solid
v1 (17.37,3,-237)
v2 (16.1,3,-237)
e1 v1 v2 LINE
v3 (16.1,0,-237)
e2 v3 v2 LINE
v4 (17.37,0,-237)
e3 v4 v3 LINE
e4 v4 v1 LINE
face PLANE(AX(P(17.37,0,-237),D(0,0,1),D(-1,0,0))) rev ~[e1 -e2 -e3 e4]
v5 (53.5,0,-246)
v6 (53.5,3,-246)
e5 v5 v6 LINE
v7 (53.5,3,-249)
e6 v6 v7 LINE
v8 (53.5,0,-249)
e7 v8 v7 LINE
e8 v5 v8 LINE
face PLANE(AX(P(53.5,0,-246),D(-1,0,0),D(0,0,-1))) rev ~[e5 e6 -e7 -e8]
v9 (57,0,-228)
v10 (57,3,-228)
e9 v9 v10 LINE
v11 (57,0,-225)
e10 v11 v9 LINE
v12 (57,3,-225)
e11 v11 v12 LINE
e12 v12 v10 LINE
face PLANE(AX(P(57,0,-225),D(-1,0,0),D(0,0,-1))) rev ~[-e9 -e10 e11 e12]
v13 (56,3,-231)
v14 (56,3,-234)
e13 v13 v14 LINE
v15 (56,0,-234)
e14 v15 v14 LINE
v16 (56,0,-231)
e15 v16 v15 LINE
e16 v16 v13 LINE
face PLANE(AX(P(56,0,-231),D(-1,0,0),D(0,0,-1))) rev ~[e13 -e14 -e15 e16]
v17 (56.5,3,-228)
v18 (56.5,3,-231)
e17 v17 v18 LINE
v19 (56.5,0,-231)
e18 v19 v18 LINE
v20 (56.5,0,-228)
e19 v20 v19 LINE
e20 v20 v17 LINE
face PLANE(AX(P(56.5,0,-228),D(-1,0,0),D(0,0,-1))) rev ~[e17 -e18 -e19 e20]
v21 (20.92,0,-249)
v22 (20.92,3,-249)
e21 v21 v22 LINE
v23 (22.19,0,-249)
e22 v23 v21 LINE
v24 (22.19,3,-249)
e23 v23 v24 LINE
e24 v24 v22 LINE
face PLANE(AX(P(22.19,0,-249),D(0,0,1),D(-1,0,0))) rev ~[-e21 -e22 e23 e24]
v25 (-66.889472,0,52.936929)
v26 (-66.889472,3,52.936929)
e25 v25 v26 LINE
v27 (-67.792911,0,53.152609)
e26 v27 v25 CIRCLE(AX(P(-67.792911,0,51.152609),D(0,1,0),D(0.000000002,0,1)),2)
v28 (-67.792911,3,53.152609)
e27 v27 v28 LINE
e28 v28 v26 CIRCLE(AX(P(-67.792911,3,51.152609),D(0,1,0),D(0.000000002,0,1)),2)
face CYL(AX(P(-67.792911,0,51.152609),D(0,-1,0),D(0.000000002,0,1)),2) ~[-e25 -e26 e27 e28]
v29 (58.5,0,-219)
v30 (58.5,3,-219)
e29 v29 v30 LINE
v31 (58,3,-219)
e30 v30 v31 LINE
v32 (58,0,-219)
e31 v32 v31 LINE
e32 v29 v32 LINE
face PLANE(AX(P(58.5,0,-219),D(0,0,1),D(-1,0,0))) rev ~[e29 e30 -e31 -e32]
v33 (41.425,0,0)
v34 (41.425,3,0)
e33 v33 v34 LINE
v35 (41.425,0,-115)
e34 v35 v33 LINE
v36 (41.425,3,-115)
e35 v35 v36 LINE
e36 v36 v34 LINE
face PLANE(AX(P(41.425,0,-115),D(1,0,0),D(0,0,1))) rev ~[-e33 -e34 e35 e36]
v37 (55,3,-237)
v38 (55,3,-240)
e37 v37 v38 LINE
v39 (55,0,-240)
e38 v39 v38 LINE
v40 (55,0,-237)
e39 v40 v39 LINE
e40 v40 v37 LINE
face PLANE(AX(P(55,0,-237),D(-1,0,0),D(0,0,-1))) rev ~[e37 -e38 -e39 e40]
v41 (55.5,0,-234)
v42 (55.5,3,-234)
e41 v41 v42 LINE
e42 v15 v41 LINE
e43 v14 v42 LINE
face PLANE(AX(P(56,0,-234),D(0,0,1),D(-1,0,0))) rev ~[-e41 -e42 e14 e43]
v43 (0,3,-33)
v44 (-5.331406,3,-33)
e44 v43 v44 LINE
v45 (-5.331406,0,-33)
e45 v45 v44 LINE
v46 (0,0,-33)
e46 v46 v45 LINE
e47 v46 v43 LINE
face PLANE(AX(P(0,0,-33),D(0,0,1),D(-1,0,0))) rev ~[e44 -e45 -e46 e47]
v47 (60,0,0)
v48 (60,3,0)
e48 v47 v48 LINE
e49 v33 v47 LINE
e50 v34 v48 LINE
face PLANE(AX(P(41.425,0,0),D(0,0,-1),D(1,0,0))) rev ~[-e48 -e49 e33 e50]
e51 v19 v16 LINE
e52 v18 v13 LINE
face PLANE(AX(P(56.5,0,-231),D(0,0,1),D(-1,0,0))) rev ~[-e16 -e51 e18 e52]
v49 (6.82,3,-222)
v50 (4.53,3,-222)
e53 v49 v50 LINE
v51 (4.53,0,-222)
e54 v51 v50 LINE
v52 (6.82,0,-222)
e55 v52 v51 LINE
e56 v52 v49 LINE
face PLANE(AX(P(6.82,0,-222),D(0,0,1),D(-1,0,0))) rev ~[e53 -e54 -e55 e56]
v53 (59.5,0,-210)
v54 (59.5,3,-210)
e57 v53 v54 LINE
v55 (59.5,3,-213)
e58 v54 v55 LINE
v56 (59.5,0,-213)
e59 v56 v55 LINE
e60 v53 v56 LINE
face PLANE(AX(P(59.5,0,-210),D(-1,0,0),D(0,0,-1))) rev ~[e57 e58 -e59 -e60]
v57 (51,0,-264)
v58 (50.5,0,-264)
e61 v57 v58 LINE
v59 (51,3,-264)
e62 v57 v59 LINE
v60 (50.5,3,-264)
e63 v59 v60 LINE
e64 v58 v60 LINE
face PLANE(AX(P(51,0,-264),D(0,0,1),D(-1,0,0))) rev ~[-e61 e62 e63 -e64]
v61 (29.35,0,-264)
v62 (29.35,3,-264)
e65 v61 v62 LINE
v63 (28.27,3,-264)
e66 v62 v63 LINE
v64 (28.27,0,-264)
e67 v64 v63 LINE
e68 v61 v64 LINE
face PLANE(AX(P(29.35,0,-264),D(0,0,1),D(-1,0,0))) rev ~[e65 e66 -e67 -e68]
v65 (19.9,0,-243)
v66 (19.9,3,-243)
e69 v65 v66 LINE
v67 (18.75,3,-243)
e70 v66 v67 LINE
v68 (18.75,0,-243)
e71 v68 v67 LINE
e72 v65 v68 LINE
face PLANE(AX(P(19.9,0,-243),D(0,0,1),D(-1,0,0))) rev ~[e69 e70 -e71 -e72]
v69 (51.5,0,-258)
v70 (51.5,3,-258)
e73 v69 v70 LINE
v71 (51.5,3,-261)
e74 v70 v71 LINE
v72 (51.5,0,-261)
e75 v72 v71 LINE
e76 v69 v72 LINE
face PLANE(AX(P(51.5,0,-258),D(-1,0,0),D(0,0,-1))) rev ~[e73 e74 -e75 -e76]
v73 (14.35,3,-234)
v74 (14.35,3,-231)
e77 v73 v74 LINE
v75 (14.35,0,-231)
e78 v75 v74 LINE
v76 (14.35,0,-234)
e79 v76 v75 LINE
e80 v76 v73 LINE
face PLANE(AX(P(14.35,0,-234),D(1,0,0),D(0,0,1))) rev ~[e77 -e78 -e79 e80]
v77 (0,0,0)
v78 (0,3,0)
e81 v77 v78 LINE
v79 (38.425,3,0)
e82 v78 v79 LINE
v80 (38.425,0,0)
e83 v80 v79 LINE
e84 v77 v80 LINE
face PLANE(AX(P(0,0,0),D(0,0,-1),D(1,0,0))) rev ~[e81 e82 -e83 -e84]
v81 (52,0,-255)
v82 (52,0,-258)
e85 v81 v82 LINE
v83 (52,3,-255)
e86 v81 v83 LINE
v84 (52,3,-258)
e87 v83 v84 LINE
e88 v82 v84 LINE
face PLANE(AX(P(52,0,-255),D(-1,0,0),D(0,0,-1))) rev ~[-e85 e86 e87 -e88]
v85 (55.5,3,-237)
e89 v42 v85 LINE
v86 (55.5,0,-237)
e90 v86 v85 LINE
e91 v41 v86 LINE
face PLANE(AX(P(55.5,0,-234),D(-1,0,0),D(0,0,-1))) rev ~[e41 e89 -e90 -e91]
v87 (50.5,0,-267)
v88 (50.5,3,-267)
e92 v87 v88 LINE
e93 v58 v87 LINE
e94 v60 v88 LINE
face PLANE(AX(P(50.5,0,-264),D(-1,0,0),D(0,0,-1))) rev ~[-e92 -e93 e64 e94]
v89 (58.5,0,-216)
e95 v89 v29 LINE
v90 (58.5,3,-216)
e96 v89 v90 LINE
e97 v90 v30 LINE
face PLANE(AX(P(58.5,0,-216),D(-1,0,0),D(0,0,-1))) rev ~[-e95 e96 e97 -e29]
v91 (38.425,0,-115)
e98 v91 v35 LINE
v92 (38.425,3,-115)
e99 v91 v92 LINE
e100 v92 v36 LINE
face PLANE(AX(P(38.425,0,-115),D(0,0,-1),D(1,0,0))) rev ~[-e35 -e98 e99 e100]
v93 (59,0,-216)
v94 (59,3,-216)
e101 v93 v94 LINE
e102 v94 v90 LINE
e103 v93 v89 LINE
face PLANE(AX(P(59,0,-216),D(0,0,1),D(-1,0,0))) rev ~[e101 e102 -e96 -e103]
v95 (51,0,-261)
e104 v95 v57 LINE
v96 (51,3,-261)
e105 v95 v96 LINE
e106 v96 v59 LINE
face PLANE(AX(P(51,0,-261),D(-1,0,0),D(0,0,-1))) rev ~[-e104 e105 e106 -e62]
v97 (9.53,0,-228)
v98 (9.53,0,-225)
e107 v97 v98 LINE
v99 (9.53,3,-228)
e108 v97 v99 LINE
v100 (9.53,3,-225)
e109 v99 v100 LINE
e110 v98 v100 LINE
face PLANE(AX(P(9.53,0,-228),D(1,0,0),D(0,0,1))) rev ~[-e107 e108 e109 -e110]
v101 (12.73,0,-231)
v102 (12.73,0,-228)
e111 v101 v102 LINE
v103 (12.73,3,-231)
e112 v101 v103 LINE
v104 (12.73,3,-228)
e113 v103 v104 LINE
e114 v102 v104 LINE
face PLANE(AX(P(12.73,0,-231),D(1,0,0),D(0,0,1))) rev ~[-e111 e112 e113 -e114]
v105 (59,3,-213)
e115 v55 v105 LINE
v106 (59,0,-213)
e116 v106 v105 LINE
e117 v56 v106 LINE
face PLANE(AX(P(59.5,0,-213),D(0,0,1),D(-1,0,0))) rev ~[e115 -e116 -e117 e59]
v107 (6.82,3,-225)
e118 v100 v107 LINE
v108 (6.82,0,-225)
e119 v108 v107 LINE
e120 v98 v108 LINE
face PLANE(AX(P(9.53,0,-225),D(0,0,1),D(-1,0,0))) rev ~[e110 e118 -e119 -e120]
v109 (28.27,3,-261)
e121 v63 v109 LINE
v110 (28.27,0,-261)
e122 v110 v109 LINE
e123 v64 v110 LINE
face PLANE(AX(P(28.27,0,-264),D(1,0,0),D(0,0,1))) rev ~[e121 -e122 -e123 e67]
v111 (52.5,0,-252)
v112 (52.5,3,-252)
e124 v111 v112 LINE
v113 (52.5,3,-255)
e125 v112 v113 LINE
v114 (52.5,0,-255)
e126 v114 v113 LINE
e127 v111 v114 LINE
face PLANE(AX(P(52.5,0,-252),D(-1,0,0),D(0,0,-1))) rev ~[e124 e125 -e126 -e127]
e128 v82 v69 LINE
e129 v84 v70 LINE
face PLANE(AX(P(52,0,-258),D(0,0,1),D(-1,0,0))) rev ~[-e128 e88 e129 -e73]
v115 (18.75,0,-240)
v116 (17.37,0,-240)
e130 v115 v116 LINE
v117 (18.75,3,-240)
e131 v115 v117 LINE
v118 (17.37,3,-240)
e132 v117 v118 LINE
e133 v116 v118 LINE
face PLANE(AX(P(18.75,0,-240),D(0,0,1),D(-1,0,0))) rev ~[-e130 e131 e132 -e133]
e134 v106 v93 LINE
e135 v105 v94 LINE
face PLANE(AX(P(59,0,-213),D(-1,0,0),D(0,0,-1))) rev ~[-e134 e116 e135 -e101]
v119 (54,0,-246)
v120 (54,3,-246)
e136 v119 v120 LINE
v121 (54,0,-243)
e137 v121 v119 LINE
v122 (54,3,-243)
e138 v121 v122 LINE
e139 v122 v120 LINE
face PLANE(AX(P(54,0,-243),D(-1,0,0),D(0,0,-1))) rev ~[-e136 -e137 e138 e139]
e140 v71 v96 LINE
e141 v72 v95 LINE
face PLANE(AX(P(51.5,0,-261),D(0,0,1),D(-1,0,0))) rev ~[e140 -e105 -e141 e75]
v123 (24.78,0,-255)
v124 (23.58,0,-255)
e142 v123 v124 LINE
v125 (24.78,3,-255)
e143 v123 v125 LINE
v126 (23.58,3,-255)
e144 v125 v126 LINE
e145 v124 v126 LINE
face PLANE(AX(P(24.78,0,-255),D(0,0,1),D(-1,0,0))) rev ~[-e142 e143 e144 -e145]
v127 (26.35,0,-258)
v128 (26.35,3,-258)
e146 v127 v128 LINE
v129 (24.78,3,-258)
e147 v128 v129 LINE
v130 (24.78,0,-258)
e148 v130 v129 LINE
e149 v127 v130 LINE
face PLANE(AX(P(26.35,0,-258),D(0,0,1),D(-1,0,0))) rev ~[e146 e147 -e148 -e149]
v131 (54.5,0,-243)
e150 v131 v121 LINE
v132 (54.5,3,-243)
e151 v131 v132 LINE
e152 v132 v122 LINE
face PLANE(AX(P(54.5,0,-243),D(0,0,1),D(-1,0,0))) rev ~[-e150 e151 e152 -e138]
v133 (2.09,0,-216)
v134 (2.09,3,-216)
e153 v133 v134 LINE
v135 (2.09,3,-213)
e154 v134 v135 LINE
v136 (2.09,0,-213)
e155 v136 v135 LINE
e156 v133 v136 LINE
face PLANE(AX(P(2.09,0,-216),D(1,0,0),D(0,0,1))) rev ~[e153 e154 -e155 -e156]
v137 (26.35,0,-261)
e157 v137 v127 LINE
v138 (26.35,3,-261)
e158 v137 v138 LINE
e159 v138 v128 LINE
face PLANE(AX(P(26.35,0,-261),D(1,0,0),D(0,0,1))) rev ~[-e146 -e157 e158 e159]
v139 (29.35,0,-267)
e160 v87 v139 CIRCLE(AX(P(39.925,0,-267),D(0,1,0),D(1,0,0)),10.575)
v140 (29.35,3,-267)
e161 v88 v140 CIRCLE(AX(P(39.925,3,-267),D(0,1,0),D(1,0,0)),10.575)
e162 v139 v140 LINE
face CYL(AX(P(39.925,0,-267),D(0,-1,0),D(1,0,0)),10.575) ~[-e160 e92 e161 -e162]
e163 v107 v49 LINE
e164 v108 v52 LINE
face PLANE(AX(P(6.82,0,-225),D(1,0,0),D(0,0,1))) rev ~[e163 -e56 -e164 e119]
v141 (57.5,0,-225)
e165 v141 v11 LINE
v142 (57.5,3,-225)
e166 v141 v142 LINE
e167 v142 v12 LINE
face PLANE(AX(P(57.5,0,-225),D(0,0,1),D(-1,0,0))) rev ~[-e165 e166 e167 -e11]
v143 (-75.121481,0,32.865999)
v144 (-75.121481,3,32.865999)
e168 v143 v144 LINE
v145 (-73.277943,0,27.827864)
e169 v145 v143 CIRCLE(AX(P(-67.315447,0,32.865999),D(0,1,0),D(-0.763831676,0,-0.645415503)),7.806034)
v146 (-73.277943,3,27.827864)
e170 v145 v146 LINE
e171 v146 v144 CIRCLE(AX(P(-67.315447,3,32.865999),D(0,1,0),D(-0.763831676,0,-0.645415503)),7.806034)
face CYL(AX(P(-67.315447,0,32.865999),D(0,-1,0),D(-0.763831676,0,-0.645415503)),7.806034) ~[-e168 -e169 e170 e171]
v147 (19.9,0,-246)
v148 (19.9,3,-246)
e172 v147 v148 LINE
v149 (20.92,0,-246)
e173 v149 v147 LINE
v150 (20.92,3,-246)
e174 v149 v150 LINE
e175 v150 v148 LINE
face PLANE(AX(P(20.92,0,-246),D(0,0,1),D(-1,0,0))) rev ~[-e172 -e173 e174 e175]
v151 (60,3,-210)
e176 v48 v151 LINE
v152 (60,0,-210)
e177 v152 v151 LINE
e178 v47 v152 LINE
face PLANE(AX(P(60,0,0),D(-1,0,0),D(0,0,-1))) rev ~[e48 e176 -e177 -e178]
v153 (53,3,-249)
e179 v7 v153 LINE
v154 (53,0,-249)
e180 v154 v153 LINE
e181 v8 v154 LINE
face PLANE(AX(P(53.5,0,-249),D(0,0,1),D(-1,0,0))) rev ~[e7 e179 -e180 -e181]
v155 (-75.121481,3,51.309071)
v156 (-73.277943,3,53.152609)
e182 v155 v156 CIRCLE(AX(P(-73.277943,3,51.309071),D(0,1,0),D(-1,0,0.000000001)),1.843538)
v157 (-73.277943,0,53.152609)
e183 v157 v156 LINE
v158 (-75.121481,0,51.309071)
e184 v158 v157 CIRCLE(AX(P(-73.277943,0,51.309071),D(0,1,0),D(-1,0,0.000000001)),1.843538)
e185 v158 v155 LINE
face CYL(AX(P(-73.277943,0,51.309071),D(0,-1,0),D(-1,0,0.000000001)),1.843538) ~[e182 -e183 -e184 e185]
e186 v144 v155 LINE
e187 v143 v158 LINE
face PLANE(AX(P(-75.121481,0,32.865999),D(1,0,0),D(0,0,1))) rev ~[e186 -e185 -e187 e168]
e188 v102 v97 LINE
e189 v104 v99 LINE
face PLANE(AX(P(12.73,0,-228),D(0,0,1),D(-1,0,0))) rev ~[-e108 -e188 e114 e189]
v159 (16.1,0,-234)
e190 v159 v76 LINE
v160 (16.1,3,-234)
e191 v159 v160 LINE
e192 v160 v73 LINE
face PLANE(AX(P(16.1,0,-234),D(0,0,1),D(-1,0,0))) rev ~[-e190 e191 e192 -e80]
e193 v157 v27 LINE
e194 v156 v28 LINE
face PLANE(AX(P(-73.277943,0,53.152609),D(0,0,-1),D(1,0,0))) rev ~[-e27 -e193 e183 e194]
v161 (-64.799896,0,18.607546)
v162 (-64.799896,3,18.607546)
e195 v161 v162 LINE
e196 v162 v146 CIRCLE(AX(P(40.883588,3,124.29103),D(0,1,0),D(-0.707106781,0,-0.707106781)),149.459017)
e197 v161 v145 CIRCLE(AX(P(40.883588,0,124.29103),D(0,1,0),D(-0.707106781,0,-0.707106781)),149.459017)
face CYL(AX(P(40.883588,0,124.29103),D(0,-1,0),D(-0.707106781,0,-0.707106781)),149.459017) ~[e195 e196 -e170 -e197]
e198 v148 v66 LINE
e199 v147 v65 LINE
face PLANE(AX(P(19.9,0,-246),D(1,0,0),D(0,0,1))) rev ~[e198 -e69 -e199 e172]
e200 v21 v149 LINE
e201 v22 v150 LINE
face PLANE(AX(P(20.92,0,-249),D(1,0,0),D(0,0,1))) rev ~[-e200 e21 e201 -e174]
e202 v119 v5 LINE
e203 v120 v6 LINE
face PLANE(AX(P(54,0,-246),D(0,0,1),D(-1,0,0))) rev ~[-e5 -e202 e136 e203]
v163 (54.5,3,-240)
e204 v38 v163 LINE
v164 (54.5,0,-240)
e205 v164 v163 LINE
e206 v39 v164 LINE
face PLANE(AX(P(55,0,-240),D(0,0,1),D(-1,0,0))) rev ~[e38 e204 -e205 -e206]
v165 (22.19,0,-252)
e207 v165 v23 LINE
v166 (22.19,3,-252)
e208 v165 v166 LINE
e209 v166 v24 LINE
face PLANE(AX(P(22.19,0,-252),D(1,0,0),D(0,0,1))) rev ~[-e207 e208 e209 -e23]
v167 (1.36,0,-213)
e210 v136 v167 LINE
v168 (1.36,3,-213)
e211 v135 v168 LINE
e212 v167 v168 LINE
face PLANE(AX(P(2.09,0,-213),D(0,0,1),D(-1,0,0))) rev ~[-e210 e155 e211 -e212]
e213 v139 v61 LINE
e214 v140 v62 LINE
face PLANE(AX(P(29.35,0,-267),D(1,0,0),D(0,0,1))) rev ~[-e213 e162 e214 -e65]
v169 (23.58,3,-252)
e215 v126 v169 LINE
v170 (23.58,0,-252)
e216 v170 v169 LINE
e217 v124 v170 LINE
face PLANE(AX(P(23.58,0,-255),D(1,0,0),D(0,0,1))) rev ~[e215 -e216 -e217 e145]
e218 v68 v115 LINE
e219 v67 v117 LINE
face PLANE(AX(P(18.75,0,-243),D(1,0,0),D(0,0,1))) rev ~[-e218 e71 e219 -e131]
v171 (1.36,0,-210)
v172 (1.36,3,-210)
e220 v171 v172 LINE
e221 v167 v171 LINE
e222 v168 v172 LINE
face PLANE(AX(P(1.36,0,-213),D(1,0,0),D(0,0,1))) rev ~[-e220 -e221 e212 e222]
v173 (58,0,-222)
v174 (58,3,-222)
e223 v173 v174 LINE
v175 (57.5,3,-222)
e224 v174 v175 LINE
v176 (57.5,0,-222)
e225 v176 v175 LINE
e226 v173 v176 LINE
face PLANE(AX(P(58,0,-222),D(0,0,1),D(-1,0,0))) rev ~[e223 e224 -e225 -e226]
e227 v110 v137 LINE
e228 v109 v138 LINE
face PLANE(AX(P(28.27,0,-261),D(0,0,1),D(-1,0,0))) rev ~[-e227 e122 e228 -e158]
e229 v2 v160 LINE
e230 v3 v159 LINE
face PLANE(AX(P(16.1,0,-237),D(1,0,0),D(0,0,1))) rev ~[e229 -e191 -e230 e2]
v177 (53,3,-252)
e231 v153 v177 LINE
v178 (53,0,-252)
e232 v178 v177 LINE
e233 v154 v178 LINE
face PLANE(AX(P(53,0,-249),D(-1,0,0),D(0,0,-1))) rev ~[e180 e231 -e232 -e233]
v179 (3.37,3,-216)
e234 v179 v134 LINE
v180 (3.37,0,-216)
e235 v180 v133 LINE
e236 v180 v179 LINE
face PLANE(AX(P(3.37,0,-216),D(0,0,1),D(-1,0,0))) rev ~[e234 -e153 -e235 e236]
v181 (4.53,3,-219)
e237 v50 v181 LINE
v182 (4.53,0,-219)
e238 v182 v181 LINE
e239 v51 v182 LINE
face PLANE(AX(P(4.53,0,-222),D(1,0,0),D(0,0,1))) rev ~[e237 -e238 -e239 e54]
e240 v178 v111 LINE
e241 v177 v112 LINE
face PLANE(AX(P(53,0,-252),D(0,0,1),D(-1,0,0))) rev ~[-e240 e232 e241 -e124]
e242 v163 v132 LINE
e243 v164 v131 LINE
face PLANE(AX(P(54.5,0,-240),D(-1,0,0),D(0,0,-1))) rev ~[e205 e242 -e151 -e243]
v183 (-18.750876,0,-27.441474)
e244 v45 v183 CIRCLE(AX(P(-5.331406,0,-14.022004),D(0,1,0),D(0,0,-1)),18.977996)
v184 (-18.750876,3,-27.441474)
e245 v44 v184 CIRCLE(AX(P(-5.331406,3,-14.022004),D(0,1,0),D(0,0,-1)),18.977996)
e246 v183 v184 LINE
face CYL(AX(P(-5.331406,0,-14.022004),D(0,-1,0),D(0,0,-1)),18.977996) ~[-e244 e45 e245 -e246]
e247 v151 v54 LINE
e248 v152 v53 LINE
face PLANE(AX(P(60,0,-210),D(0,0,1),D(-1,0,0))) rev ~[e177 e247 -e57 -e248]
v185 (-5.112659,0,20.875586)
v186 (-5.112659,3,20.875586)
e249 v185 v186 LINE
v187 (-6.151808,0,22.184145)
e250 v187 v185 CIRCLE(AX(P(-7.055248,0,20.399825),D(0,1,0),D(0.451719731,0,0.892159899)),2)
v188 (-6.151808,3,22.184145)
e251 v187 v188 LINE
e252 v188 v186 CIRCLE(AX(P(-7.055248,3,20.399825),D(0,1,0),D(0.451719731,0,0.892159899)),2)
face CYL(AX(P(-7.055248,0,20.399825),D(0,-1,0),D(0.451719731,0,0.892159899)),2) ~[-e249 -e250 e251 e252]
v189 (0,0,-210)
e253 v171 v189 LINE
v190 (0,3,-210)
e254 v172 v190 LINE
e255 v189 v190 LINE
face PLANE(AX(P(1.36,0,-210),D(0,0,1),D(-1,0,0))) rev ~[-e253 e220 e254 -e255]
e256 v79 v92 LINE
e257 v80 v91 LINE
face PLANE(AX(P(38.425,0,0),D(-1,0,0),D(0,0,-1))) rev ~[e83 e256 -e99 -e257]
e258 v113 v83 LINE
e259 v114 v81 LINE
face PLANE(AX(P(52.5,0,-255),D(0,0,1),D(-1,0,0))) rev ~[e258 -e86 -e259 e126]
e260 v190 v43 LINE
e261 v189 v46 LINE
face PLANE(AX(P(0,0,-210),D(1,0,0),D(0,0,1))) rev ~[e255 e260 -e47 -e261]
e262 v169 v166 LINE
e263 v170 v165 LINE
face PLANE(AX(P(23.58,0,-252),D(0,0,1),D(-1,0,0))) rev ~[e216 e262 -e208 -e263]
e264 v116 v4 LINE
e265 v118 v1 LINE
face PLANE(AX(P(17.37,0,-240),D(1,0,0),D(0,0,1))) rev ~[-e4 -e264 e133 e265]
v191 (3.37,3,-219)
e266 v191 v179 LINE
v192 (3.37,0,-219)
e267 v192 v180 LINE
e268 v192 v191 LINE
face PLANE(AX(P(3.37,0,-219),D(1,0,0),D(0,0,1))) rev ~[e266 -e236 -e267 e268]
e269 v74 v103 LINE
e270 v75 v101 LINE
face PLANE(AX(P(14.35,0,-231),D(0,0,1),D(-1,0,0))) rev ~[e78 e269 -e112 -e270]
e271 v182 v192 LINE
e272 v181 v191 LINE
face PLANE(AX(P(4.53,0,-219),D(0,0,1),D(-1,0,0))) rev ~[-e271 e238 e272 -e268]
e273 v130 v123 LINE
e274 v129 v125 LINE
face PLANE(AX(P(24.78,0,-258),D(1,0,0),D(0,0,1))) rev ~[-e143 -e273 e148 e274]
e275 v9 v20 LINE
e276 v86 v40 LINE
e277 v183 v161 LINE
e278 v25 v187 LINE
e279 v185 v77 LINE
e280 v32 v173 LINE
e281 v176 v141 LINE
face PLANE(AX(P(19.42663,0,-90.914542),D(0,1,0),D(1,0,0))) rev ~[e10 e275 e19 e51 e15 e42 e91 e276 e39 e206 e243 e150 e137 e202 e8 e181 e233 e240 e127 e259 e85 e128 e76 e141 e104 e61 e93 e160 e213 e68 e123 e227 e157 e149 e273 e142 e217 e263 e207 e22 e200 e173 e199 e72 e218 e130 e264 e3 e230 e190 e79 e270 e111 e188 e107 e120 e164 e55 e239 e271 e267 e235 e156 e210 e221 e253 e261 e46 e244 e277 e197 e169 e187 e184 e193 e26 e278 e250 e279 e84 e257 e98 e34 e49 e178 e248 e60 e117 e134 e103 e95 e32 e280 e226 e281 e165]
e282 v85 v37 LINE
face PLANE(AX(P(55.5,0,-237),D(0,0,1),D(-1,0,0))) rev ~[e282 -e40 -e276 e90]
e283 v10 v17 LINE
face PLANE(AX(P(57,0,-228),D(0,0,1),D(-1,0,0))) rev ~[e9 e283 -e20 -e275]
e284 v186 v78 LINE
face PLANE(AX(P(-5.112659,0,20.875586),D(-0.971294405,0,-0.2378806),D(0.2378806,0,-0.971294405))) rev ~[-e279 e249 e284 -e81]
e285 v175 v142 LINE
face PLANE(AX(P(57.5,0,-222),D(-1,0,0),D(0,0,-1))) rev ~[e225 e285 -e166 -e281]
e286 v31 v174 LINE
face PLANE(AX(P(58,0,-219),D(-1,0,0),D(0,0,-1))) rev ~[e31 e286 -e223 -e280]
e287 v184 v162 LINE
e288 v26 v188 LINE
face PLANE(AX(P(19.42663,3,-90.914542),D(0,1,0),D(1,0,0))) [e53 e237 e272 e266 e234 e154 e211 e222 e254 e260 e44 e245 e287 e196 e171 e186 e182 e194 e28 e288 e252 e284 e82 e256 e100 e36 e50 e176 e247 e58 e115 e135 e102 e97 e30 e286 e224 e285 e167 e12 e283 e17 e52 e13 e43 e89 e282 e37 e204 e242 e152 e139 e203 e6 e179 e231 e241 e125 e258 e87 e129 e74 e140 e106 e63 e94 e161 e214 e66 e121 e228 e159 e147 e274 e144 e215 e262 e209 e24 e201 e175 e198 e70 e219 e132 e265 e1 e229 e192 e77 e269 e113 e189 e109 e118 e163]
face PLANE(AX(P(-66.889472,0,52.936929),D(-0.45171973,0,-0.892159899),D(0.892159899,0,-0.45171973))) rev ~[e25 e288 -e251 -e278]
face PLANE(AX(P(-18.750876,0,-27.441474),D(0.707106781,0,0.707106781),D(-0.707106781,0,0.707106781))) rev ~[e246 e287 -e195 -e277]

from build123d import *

# Parameters (mm, degrees)
SALIENTE_EXTRUIR1_DEPTH = 3


with BuildPart() as part:
    # Croquis1 → Saliente-Extruir1 (new body)
    with BuildSketch(Plane(origin=(0, 0, 0), x_dir=(1, 0, 0), z_dir=(0, 1, 0))):
        with BuildLine():
            Line((0, 33), (-5.331406318, 33))
            ThreePointArc((-5.331406318, 33), (-12.593971099, 31.555386046), (-18.750876228, 27.441473563))
            Line((-18.750876228, 27.441473563), (-64.799895827, -18.607546035))
            ThreePointArc((-64.799895827, -18.607546035), (-69.135552051, -23.128851505), (-73.277942785, -27.827863853))
            ThreePointArc((-73.277942785, -27.827863853), (-74.646122538, -30.183582463), (-75.121480816, -32.86599938))
            Line((-75.121480816, -32.86599938), (-75.121480816, -51.309071299))
            ThreePointArc((-75.121480816, -51.309071299), (-74.581521028, -52.612649541), (-73.277942785, -53.152609329))
            Line((-73.277942785, -53.152609329), (-67.7929112, -53.152609329))
            ThreePointArc((-67.7929112, -53.152609329), (-67.328497374, -53.097942153), (-66.88947174, -52.936929127))
            Line((-66.88947174, -52.936929127), (-6.151808223, -22.184144776))
            ThreePointArc((-6.151808223, -22.184144776), (-5.489025915, -21.643589172), (-5.112658875, -20.875586177))
            Line((-5.112658875, -20.875586177), (0, 0))
            Line((0, 0), (38.425, 0))
            Line((38.425, 0), (38.425, 115))
            Line((38.425, 115), (41.425, 115))
            Line((41.425, 115), (41.425, 0))
            Line((41.425, 0), (60, 0))
            Line((60, 0), (60, 210))
            Line((60, 210), (59.5, 210))
            Line((59.5, 210), (59.5, 213))
            Line((59.5, 213), (59, 213))
            Line((59, 213), (59, 216))
            Line((59, 216), (58.5, 216))
            Line((58.5, 216), (58.5, 219))
            Line((58.5, 219), (58, 219))
            Line((58, 219), (58, 222))
            Line((58, 222), (57.5, 222))
            Line((57.5, 222), (57.5, 225))
            Line((57.5, 225), (57, 225))
            Line((57, 225), (57, 228))
            Line((57, 228), (56.5, 228))
            Line((56.5, 228), (56.5, 231))
            Line((56.5, 231), (56, 231))
            Line((56, 231), (56, 234))
            Line((56, 234), (55.5, 234))
            Line((55.5, 234), (55.5, 237))
            Line((55.5, 237), (55, 237))
            Line((55, 237), (55, 240))
            Line((55, 240), (54.5, 240))
            Line((54.5, 240), (54.5, 243))
            Line((54.5, 243), (54, 243))
            Line((54, 243), (54, 246))
            Line((54, 246), (53.5, 246))
            Line((53.5, 246), (53.5, 249))
            Line((53.5, 249), (53, 249))
            Line((53, 249), (53, 252))
            Line((53, 252), (52.5, 252))
            Line((52.5, 252), (52.5, 255))
            Line((52.5, 255), (52, 255))
            Line((52, 255), (52, 258))
            Line((52, 258), (51.5, 258))
            Line((51.5, 258), (51.5, 261))
            Line((51.5, 261), (51, 261))
            Line((51, 261), (51, 264))
            Line((51, 264), (50.5, 264))
            Line((50.5, 264), (50.5, 267))
            ThreePointArc((50.5, 267), (39.925, 277.575), (29.35, 267))
            Line((29.35, 267), (29.35, 264))
            Line((29.35, 264), (28.27, 264))
            Line((28.27, 264), (28.27, 261))
            Line((28.27, 261), (26.35, 261))
            Line((26.35, 261), (26.35, 258))
            Line((26.35, 258), (24.78, 258))
            Line((24.78, 258), (24.78, 255))
            Line((24.78, 255), (23.58, 255))
            Line((23.58, 255), (23.58, 252))
            Line((23.58, 252), (22.19, 252))
            Line((22.19, 252), (22.19, 249))
            Line((22.19, 249), (20.92, 249))
            Line((20.92, 249), (20.92, 246))
            Line((20.92, 246), (19.9, 246))
            Line((19.9, 246), (19.9, 243))
            Line((19.9, 243), (18.75, 243))
            Line((18.75, 243), (18.75, 240))
            Line((18.75, 240), (17.37, 240))
            Line((17.37, 240), (17.37, 237))
            Line((17.37, 237), (16.1, 237))
            Line((16.1, 237), (16.1, 234))
            Line((16.1, 234), (14.35, 234))
            Line((14.35, 234), (14.35, 231))
            Line((14.35, 231), (12.73, 231))
            Line((12.73, 231), (12.73, 228))
            Line((12.73, 228), (9.53, 228))
            Line((9.53, 228), (9.53, 225))
            Line((9.53, 225), (6.82, 225))
            Line((6.82, 225), (6.82, 222))
            Line((6.82, 222), (4.53, 222))
            Line((4.53, 222), (4.53, 219))
            Line((4.53, 219), (3.37, 219))
            Line((3.37, 219), (3.37, 216))
            Line((3.37, 216), (2.09, 216))
            Line((2.09, 216), (2.09, 213))
            Line((2.09, 213), (1.36, 213))
            Line((1.36, 213), (1.36, 210))
            Line((1.36, 210), (0, 210))
            Line((0, 210), (0, 33))
        make_face()
    extrude(amount=SALIENTE_EXTRUIR1_DEPTH)


solid = part.part
